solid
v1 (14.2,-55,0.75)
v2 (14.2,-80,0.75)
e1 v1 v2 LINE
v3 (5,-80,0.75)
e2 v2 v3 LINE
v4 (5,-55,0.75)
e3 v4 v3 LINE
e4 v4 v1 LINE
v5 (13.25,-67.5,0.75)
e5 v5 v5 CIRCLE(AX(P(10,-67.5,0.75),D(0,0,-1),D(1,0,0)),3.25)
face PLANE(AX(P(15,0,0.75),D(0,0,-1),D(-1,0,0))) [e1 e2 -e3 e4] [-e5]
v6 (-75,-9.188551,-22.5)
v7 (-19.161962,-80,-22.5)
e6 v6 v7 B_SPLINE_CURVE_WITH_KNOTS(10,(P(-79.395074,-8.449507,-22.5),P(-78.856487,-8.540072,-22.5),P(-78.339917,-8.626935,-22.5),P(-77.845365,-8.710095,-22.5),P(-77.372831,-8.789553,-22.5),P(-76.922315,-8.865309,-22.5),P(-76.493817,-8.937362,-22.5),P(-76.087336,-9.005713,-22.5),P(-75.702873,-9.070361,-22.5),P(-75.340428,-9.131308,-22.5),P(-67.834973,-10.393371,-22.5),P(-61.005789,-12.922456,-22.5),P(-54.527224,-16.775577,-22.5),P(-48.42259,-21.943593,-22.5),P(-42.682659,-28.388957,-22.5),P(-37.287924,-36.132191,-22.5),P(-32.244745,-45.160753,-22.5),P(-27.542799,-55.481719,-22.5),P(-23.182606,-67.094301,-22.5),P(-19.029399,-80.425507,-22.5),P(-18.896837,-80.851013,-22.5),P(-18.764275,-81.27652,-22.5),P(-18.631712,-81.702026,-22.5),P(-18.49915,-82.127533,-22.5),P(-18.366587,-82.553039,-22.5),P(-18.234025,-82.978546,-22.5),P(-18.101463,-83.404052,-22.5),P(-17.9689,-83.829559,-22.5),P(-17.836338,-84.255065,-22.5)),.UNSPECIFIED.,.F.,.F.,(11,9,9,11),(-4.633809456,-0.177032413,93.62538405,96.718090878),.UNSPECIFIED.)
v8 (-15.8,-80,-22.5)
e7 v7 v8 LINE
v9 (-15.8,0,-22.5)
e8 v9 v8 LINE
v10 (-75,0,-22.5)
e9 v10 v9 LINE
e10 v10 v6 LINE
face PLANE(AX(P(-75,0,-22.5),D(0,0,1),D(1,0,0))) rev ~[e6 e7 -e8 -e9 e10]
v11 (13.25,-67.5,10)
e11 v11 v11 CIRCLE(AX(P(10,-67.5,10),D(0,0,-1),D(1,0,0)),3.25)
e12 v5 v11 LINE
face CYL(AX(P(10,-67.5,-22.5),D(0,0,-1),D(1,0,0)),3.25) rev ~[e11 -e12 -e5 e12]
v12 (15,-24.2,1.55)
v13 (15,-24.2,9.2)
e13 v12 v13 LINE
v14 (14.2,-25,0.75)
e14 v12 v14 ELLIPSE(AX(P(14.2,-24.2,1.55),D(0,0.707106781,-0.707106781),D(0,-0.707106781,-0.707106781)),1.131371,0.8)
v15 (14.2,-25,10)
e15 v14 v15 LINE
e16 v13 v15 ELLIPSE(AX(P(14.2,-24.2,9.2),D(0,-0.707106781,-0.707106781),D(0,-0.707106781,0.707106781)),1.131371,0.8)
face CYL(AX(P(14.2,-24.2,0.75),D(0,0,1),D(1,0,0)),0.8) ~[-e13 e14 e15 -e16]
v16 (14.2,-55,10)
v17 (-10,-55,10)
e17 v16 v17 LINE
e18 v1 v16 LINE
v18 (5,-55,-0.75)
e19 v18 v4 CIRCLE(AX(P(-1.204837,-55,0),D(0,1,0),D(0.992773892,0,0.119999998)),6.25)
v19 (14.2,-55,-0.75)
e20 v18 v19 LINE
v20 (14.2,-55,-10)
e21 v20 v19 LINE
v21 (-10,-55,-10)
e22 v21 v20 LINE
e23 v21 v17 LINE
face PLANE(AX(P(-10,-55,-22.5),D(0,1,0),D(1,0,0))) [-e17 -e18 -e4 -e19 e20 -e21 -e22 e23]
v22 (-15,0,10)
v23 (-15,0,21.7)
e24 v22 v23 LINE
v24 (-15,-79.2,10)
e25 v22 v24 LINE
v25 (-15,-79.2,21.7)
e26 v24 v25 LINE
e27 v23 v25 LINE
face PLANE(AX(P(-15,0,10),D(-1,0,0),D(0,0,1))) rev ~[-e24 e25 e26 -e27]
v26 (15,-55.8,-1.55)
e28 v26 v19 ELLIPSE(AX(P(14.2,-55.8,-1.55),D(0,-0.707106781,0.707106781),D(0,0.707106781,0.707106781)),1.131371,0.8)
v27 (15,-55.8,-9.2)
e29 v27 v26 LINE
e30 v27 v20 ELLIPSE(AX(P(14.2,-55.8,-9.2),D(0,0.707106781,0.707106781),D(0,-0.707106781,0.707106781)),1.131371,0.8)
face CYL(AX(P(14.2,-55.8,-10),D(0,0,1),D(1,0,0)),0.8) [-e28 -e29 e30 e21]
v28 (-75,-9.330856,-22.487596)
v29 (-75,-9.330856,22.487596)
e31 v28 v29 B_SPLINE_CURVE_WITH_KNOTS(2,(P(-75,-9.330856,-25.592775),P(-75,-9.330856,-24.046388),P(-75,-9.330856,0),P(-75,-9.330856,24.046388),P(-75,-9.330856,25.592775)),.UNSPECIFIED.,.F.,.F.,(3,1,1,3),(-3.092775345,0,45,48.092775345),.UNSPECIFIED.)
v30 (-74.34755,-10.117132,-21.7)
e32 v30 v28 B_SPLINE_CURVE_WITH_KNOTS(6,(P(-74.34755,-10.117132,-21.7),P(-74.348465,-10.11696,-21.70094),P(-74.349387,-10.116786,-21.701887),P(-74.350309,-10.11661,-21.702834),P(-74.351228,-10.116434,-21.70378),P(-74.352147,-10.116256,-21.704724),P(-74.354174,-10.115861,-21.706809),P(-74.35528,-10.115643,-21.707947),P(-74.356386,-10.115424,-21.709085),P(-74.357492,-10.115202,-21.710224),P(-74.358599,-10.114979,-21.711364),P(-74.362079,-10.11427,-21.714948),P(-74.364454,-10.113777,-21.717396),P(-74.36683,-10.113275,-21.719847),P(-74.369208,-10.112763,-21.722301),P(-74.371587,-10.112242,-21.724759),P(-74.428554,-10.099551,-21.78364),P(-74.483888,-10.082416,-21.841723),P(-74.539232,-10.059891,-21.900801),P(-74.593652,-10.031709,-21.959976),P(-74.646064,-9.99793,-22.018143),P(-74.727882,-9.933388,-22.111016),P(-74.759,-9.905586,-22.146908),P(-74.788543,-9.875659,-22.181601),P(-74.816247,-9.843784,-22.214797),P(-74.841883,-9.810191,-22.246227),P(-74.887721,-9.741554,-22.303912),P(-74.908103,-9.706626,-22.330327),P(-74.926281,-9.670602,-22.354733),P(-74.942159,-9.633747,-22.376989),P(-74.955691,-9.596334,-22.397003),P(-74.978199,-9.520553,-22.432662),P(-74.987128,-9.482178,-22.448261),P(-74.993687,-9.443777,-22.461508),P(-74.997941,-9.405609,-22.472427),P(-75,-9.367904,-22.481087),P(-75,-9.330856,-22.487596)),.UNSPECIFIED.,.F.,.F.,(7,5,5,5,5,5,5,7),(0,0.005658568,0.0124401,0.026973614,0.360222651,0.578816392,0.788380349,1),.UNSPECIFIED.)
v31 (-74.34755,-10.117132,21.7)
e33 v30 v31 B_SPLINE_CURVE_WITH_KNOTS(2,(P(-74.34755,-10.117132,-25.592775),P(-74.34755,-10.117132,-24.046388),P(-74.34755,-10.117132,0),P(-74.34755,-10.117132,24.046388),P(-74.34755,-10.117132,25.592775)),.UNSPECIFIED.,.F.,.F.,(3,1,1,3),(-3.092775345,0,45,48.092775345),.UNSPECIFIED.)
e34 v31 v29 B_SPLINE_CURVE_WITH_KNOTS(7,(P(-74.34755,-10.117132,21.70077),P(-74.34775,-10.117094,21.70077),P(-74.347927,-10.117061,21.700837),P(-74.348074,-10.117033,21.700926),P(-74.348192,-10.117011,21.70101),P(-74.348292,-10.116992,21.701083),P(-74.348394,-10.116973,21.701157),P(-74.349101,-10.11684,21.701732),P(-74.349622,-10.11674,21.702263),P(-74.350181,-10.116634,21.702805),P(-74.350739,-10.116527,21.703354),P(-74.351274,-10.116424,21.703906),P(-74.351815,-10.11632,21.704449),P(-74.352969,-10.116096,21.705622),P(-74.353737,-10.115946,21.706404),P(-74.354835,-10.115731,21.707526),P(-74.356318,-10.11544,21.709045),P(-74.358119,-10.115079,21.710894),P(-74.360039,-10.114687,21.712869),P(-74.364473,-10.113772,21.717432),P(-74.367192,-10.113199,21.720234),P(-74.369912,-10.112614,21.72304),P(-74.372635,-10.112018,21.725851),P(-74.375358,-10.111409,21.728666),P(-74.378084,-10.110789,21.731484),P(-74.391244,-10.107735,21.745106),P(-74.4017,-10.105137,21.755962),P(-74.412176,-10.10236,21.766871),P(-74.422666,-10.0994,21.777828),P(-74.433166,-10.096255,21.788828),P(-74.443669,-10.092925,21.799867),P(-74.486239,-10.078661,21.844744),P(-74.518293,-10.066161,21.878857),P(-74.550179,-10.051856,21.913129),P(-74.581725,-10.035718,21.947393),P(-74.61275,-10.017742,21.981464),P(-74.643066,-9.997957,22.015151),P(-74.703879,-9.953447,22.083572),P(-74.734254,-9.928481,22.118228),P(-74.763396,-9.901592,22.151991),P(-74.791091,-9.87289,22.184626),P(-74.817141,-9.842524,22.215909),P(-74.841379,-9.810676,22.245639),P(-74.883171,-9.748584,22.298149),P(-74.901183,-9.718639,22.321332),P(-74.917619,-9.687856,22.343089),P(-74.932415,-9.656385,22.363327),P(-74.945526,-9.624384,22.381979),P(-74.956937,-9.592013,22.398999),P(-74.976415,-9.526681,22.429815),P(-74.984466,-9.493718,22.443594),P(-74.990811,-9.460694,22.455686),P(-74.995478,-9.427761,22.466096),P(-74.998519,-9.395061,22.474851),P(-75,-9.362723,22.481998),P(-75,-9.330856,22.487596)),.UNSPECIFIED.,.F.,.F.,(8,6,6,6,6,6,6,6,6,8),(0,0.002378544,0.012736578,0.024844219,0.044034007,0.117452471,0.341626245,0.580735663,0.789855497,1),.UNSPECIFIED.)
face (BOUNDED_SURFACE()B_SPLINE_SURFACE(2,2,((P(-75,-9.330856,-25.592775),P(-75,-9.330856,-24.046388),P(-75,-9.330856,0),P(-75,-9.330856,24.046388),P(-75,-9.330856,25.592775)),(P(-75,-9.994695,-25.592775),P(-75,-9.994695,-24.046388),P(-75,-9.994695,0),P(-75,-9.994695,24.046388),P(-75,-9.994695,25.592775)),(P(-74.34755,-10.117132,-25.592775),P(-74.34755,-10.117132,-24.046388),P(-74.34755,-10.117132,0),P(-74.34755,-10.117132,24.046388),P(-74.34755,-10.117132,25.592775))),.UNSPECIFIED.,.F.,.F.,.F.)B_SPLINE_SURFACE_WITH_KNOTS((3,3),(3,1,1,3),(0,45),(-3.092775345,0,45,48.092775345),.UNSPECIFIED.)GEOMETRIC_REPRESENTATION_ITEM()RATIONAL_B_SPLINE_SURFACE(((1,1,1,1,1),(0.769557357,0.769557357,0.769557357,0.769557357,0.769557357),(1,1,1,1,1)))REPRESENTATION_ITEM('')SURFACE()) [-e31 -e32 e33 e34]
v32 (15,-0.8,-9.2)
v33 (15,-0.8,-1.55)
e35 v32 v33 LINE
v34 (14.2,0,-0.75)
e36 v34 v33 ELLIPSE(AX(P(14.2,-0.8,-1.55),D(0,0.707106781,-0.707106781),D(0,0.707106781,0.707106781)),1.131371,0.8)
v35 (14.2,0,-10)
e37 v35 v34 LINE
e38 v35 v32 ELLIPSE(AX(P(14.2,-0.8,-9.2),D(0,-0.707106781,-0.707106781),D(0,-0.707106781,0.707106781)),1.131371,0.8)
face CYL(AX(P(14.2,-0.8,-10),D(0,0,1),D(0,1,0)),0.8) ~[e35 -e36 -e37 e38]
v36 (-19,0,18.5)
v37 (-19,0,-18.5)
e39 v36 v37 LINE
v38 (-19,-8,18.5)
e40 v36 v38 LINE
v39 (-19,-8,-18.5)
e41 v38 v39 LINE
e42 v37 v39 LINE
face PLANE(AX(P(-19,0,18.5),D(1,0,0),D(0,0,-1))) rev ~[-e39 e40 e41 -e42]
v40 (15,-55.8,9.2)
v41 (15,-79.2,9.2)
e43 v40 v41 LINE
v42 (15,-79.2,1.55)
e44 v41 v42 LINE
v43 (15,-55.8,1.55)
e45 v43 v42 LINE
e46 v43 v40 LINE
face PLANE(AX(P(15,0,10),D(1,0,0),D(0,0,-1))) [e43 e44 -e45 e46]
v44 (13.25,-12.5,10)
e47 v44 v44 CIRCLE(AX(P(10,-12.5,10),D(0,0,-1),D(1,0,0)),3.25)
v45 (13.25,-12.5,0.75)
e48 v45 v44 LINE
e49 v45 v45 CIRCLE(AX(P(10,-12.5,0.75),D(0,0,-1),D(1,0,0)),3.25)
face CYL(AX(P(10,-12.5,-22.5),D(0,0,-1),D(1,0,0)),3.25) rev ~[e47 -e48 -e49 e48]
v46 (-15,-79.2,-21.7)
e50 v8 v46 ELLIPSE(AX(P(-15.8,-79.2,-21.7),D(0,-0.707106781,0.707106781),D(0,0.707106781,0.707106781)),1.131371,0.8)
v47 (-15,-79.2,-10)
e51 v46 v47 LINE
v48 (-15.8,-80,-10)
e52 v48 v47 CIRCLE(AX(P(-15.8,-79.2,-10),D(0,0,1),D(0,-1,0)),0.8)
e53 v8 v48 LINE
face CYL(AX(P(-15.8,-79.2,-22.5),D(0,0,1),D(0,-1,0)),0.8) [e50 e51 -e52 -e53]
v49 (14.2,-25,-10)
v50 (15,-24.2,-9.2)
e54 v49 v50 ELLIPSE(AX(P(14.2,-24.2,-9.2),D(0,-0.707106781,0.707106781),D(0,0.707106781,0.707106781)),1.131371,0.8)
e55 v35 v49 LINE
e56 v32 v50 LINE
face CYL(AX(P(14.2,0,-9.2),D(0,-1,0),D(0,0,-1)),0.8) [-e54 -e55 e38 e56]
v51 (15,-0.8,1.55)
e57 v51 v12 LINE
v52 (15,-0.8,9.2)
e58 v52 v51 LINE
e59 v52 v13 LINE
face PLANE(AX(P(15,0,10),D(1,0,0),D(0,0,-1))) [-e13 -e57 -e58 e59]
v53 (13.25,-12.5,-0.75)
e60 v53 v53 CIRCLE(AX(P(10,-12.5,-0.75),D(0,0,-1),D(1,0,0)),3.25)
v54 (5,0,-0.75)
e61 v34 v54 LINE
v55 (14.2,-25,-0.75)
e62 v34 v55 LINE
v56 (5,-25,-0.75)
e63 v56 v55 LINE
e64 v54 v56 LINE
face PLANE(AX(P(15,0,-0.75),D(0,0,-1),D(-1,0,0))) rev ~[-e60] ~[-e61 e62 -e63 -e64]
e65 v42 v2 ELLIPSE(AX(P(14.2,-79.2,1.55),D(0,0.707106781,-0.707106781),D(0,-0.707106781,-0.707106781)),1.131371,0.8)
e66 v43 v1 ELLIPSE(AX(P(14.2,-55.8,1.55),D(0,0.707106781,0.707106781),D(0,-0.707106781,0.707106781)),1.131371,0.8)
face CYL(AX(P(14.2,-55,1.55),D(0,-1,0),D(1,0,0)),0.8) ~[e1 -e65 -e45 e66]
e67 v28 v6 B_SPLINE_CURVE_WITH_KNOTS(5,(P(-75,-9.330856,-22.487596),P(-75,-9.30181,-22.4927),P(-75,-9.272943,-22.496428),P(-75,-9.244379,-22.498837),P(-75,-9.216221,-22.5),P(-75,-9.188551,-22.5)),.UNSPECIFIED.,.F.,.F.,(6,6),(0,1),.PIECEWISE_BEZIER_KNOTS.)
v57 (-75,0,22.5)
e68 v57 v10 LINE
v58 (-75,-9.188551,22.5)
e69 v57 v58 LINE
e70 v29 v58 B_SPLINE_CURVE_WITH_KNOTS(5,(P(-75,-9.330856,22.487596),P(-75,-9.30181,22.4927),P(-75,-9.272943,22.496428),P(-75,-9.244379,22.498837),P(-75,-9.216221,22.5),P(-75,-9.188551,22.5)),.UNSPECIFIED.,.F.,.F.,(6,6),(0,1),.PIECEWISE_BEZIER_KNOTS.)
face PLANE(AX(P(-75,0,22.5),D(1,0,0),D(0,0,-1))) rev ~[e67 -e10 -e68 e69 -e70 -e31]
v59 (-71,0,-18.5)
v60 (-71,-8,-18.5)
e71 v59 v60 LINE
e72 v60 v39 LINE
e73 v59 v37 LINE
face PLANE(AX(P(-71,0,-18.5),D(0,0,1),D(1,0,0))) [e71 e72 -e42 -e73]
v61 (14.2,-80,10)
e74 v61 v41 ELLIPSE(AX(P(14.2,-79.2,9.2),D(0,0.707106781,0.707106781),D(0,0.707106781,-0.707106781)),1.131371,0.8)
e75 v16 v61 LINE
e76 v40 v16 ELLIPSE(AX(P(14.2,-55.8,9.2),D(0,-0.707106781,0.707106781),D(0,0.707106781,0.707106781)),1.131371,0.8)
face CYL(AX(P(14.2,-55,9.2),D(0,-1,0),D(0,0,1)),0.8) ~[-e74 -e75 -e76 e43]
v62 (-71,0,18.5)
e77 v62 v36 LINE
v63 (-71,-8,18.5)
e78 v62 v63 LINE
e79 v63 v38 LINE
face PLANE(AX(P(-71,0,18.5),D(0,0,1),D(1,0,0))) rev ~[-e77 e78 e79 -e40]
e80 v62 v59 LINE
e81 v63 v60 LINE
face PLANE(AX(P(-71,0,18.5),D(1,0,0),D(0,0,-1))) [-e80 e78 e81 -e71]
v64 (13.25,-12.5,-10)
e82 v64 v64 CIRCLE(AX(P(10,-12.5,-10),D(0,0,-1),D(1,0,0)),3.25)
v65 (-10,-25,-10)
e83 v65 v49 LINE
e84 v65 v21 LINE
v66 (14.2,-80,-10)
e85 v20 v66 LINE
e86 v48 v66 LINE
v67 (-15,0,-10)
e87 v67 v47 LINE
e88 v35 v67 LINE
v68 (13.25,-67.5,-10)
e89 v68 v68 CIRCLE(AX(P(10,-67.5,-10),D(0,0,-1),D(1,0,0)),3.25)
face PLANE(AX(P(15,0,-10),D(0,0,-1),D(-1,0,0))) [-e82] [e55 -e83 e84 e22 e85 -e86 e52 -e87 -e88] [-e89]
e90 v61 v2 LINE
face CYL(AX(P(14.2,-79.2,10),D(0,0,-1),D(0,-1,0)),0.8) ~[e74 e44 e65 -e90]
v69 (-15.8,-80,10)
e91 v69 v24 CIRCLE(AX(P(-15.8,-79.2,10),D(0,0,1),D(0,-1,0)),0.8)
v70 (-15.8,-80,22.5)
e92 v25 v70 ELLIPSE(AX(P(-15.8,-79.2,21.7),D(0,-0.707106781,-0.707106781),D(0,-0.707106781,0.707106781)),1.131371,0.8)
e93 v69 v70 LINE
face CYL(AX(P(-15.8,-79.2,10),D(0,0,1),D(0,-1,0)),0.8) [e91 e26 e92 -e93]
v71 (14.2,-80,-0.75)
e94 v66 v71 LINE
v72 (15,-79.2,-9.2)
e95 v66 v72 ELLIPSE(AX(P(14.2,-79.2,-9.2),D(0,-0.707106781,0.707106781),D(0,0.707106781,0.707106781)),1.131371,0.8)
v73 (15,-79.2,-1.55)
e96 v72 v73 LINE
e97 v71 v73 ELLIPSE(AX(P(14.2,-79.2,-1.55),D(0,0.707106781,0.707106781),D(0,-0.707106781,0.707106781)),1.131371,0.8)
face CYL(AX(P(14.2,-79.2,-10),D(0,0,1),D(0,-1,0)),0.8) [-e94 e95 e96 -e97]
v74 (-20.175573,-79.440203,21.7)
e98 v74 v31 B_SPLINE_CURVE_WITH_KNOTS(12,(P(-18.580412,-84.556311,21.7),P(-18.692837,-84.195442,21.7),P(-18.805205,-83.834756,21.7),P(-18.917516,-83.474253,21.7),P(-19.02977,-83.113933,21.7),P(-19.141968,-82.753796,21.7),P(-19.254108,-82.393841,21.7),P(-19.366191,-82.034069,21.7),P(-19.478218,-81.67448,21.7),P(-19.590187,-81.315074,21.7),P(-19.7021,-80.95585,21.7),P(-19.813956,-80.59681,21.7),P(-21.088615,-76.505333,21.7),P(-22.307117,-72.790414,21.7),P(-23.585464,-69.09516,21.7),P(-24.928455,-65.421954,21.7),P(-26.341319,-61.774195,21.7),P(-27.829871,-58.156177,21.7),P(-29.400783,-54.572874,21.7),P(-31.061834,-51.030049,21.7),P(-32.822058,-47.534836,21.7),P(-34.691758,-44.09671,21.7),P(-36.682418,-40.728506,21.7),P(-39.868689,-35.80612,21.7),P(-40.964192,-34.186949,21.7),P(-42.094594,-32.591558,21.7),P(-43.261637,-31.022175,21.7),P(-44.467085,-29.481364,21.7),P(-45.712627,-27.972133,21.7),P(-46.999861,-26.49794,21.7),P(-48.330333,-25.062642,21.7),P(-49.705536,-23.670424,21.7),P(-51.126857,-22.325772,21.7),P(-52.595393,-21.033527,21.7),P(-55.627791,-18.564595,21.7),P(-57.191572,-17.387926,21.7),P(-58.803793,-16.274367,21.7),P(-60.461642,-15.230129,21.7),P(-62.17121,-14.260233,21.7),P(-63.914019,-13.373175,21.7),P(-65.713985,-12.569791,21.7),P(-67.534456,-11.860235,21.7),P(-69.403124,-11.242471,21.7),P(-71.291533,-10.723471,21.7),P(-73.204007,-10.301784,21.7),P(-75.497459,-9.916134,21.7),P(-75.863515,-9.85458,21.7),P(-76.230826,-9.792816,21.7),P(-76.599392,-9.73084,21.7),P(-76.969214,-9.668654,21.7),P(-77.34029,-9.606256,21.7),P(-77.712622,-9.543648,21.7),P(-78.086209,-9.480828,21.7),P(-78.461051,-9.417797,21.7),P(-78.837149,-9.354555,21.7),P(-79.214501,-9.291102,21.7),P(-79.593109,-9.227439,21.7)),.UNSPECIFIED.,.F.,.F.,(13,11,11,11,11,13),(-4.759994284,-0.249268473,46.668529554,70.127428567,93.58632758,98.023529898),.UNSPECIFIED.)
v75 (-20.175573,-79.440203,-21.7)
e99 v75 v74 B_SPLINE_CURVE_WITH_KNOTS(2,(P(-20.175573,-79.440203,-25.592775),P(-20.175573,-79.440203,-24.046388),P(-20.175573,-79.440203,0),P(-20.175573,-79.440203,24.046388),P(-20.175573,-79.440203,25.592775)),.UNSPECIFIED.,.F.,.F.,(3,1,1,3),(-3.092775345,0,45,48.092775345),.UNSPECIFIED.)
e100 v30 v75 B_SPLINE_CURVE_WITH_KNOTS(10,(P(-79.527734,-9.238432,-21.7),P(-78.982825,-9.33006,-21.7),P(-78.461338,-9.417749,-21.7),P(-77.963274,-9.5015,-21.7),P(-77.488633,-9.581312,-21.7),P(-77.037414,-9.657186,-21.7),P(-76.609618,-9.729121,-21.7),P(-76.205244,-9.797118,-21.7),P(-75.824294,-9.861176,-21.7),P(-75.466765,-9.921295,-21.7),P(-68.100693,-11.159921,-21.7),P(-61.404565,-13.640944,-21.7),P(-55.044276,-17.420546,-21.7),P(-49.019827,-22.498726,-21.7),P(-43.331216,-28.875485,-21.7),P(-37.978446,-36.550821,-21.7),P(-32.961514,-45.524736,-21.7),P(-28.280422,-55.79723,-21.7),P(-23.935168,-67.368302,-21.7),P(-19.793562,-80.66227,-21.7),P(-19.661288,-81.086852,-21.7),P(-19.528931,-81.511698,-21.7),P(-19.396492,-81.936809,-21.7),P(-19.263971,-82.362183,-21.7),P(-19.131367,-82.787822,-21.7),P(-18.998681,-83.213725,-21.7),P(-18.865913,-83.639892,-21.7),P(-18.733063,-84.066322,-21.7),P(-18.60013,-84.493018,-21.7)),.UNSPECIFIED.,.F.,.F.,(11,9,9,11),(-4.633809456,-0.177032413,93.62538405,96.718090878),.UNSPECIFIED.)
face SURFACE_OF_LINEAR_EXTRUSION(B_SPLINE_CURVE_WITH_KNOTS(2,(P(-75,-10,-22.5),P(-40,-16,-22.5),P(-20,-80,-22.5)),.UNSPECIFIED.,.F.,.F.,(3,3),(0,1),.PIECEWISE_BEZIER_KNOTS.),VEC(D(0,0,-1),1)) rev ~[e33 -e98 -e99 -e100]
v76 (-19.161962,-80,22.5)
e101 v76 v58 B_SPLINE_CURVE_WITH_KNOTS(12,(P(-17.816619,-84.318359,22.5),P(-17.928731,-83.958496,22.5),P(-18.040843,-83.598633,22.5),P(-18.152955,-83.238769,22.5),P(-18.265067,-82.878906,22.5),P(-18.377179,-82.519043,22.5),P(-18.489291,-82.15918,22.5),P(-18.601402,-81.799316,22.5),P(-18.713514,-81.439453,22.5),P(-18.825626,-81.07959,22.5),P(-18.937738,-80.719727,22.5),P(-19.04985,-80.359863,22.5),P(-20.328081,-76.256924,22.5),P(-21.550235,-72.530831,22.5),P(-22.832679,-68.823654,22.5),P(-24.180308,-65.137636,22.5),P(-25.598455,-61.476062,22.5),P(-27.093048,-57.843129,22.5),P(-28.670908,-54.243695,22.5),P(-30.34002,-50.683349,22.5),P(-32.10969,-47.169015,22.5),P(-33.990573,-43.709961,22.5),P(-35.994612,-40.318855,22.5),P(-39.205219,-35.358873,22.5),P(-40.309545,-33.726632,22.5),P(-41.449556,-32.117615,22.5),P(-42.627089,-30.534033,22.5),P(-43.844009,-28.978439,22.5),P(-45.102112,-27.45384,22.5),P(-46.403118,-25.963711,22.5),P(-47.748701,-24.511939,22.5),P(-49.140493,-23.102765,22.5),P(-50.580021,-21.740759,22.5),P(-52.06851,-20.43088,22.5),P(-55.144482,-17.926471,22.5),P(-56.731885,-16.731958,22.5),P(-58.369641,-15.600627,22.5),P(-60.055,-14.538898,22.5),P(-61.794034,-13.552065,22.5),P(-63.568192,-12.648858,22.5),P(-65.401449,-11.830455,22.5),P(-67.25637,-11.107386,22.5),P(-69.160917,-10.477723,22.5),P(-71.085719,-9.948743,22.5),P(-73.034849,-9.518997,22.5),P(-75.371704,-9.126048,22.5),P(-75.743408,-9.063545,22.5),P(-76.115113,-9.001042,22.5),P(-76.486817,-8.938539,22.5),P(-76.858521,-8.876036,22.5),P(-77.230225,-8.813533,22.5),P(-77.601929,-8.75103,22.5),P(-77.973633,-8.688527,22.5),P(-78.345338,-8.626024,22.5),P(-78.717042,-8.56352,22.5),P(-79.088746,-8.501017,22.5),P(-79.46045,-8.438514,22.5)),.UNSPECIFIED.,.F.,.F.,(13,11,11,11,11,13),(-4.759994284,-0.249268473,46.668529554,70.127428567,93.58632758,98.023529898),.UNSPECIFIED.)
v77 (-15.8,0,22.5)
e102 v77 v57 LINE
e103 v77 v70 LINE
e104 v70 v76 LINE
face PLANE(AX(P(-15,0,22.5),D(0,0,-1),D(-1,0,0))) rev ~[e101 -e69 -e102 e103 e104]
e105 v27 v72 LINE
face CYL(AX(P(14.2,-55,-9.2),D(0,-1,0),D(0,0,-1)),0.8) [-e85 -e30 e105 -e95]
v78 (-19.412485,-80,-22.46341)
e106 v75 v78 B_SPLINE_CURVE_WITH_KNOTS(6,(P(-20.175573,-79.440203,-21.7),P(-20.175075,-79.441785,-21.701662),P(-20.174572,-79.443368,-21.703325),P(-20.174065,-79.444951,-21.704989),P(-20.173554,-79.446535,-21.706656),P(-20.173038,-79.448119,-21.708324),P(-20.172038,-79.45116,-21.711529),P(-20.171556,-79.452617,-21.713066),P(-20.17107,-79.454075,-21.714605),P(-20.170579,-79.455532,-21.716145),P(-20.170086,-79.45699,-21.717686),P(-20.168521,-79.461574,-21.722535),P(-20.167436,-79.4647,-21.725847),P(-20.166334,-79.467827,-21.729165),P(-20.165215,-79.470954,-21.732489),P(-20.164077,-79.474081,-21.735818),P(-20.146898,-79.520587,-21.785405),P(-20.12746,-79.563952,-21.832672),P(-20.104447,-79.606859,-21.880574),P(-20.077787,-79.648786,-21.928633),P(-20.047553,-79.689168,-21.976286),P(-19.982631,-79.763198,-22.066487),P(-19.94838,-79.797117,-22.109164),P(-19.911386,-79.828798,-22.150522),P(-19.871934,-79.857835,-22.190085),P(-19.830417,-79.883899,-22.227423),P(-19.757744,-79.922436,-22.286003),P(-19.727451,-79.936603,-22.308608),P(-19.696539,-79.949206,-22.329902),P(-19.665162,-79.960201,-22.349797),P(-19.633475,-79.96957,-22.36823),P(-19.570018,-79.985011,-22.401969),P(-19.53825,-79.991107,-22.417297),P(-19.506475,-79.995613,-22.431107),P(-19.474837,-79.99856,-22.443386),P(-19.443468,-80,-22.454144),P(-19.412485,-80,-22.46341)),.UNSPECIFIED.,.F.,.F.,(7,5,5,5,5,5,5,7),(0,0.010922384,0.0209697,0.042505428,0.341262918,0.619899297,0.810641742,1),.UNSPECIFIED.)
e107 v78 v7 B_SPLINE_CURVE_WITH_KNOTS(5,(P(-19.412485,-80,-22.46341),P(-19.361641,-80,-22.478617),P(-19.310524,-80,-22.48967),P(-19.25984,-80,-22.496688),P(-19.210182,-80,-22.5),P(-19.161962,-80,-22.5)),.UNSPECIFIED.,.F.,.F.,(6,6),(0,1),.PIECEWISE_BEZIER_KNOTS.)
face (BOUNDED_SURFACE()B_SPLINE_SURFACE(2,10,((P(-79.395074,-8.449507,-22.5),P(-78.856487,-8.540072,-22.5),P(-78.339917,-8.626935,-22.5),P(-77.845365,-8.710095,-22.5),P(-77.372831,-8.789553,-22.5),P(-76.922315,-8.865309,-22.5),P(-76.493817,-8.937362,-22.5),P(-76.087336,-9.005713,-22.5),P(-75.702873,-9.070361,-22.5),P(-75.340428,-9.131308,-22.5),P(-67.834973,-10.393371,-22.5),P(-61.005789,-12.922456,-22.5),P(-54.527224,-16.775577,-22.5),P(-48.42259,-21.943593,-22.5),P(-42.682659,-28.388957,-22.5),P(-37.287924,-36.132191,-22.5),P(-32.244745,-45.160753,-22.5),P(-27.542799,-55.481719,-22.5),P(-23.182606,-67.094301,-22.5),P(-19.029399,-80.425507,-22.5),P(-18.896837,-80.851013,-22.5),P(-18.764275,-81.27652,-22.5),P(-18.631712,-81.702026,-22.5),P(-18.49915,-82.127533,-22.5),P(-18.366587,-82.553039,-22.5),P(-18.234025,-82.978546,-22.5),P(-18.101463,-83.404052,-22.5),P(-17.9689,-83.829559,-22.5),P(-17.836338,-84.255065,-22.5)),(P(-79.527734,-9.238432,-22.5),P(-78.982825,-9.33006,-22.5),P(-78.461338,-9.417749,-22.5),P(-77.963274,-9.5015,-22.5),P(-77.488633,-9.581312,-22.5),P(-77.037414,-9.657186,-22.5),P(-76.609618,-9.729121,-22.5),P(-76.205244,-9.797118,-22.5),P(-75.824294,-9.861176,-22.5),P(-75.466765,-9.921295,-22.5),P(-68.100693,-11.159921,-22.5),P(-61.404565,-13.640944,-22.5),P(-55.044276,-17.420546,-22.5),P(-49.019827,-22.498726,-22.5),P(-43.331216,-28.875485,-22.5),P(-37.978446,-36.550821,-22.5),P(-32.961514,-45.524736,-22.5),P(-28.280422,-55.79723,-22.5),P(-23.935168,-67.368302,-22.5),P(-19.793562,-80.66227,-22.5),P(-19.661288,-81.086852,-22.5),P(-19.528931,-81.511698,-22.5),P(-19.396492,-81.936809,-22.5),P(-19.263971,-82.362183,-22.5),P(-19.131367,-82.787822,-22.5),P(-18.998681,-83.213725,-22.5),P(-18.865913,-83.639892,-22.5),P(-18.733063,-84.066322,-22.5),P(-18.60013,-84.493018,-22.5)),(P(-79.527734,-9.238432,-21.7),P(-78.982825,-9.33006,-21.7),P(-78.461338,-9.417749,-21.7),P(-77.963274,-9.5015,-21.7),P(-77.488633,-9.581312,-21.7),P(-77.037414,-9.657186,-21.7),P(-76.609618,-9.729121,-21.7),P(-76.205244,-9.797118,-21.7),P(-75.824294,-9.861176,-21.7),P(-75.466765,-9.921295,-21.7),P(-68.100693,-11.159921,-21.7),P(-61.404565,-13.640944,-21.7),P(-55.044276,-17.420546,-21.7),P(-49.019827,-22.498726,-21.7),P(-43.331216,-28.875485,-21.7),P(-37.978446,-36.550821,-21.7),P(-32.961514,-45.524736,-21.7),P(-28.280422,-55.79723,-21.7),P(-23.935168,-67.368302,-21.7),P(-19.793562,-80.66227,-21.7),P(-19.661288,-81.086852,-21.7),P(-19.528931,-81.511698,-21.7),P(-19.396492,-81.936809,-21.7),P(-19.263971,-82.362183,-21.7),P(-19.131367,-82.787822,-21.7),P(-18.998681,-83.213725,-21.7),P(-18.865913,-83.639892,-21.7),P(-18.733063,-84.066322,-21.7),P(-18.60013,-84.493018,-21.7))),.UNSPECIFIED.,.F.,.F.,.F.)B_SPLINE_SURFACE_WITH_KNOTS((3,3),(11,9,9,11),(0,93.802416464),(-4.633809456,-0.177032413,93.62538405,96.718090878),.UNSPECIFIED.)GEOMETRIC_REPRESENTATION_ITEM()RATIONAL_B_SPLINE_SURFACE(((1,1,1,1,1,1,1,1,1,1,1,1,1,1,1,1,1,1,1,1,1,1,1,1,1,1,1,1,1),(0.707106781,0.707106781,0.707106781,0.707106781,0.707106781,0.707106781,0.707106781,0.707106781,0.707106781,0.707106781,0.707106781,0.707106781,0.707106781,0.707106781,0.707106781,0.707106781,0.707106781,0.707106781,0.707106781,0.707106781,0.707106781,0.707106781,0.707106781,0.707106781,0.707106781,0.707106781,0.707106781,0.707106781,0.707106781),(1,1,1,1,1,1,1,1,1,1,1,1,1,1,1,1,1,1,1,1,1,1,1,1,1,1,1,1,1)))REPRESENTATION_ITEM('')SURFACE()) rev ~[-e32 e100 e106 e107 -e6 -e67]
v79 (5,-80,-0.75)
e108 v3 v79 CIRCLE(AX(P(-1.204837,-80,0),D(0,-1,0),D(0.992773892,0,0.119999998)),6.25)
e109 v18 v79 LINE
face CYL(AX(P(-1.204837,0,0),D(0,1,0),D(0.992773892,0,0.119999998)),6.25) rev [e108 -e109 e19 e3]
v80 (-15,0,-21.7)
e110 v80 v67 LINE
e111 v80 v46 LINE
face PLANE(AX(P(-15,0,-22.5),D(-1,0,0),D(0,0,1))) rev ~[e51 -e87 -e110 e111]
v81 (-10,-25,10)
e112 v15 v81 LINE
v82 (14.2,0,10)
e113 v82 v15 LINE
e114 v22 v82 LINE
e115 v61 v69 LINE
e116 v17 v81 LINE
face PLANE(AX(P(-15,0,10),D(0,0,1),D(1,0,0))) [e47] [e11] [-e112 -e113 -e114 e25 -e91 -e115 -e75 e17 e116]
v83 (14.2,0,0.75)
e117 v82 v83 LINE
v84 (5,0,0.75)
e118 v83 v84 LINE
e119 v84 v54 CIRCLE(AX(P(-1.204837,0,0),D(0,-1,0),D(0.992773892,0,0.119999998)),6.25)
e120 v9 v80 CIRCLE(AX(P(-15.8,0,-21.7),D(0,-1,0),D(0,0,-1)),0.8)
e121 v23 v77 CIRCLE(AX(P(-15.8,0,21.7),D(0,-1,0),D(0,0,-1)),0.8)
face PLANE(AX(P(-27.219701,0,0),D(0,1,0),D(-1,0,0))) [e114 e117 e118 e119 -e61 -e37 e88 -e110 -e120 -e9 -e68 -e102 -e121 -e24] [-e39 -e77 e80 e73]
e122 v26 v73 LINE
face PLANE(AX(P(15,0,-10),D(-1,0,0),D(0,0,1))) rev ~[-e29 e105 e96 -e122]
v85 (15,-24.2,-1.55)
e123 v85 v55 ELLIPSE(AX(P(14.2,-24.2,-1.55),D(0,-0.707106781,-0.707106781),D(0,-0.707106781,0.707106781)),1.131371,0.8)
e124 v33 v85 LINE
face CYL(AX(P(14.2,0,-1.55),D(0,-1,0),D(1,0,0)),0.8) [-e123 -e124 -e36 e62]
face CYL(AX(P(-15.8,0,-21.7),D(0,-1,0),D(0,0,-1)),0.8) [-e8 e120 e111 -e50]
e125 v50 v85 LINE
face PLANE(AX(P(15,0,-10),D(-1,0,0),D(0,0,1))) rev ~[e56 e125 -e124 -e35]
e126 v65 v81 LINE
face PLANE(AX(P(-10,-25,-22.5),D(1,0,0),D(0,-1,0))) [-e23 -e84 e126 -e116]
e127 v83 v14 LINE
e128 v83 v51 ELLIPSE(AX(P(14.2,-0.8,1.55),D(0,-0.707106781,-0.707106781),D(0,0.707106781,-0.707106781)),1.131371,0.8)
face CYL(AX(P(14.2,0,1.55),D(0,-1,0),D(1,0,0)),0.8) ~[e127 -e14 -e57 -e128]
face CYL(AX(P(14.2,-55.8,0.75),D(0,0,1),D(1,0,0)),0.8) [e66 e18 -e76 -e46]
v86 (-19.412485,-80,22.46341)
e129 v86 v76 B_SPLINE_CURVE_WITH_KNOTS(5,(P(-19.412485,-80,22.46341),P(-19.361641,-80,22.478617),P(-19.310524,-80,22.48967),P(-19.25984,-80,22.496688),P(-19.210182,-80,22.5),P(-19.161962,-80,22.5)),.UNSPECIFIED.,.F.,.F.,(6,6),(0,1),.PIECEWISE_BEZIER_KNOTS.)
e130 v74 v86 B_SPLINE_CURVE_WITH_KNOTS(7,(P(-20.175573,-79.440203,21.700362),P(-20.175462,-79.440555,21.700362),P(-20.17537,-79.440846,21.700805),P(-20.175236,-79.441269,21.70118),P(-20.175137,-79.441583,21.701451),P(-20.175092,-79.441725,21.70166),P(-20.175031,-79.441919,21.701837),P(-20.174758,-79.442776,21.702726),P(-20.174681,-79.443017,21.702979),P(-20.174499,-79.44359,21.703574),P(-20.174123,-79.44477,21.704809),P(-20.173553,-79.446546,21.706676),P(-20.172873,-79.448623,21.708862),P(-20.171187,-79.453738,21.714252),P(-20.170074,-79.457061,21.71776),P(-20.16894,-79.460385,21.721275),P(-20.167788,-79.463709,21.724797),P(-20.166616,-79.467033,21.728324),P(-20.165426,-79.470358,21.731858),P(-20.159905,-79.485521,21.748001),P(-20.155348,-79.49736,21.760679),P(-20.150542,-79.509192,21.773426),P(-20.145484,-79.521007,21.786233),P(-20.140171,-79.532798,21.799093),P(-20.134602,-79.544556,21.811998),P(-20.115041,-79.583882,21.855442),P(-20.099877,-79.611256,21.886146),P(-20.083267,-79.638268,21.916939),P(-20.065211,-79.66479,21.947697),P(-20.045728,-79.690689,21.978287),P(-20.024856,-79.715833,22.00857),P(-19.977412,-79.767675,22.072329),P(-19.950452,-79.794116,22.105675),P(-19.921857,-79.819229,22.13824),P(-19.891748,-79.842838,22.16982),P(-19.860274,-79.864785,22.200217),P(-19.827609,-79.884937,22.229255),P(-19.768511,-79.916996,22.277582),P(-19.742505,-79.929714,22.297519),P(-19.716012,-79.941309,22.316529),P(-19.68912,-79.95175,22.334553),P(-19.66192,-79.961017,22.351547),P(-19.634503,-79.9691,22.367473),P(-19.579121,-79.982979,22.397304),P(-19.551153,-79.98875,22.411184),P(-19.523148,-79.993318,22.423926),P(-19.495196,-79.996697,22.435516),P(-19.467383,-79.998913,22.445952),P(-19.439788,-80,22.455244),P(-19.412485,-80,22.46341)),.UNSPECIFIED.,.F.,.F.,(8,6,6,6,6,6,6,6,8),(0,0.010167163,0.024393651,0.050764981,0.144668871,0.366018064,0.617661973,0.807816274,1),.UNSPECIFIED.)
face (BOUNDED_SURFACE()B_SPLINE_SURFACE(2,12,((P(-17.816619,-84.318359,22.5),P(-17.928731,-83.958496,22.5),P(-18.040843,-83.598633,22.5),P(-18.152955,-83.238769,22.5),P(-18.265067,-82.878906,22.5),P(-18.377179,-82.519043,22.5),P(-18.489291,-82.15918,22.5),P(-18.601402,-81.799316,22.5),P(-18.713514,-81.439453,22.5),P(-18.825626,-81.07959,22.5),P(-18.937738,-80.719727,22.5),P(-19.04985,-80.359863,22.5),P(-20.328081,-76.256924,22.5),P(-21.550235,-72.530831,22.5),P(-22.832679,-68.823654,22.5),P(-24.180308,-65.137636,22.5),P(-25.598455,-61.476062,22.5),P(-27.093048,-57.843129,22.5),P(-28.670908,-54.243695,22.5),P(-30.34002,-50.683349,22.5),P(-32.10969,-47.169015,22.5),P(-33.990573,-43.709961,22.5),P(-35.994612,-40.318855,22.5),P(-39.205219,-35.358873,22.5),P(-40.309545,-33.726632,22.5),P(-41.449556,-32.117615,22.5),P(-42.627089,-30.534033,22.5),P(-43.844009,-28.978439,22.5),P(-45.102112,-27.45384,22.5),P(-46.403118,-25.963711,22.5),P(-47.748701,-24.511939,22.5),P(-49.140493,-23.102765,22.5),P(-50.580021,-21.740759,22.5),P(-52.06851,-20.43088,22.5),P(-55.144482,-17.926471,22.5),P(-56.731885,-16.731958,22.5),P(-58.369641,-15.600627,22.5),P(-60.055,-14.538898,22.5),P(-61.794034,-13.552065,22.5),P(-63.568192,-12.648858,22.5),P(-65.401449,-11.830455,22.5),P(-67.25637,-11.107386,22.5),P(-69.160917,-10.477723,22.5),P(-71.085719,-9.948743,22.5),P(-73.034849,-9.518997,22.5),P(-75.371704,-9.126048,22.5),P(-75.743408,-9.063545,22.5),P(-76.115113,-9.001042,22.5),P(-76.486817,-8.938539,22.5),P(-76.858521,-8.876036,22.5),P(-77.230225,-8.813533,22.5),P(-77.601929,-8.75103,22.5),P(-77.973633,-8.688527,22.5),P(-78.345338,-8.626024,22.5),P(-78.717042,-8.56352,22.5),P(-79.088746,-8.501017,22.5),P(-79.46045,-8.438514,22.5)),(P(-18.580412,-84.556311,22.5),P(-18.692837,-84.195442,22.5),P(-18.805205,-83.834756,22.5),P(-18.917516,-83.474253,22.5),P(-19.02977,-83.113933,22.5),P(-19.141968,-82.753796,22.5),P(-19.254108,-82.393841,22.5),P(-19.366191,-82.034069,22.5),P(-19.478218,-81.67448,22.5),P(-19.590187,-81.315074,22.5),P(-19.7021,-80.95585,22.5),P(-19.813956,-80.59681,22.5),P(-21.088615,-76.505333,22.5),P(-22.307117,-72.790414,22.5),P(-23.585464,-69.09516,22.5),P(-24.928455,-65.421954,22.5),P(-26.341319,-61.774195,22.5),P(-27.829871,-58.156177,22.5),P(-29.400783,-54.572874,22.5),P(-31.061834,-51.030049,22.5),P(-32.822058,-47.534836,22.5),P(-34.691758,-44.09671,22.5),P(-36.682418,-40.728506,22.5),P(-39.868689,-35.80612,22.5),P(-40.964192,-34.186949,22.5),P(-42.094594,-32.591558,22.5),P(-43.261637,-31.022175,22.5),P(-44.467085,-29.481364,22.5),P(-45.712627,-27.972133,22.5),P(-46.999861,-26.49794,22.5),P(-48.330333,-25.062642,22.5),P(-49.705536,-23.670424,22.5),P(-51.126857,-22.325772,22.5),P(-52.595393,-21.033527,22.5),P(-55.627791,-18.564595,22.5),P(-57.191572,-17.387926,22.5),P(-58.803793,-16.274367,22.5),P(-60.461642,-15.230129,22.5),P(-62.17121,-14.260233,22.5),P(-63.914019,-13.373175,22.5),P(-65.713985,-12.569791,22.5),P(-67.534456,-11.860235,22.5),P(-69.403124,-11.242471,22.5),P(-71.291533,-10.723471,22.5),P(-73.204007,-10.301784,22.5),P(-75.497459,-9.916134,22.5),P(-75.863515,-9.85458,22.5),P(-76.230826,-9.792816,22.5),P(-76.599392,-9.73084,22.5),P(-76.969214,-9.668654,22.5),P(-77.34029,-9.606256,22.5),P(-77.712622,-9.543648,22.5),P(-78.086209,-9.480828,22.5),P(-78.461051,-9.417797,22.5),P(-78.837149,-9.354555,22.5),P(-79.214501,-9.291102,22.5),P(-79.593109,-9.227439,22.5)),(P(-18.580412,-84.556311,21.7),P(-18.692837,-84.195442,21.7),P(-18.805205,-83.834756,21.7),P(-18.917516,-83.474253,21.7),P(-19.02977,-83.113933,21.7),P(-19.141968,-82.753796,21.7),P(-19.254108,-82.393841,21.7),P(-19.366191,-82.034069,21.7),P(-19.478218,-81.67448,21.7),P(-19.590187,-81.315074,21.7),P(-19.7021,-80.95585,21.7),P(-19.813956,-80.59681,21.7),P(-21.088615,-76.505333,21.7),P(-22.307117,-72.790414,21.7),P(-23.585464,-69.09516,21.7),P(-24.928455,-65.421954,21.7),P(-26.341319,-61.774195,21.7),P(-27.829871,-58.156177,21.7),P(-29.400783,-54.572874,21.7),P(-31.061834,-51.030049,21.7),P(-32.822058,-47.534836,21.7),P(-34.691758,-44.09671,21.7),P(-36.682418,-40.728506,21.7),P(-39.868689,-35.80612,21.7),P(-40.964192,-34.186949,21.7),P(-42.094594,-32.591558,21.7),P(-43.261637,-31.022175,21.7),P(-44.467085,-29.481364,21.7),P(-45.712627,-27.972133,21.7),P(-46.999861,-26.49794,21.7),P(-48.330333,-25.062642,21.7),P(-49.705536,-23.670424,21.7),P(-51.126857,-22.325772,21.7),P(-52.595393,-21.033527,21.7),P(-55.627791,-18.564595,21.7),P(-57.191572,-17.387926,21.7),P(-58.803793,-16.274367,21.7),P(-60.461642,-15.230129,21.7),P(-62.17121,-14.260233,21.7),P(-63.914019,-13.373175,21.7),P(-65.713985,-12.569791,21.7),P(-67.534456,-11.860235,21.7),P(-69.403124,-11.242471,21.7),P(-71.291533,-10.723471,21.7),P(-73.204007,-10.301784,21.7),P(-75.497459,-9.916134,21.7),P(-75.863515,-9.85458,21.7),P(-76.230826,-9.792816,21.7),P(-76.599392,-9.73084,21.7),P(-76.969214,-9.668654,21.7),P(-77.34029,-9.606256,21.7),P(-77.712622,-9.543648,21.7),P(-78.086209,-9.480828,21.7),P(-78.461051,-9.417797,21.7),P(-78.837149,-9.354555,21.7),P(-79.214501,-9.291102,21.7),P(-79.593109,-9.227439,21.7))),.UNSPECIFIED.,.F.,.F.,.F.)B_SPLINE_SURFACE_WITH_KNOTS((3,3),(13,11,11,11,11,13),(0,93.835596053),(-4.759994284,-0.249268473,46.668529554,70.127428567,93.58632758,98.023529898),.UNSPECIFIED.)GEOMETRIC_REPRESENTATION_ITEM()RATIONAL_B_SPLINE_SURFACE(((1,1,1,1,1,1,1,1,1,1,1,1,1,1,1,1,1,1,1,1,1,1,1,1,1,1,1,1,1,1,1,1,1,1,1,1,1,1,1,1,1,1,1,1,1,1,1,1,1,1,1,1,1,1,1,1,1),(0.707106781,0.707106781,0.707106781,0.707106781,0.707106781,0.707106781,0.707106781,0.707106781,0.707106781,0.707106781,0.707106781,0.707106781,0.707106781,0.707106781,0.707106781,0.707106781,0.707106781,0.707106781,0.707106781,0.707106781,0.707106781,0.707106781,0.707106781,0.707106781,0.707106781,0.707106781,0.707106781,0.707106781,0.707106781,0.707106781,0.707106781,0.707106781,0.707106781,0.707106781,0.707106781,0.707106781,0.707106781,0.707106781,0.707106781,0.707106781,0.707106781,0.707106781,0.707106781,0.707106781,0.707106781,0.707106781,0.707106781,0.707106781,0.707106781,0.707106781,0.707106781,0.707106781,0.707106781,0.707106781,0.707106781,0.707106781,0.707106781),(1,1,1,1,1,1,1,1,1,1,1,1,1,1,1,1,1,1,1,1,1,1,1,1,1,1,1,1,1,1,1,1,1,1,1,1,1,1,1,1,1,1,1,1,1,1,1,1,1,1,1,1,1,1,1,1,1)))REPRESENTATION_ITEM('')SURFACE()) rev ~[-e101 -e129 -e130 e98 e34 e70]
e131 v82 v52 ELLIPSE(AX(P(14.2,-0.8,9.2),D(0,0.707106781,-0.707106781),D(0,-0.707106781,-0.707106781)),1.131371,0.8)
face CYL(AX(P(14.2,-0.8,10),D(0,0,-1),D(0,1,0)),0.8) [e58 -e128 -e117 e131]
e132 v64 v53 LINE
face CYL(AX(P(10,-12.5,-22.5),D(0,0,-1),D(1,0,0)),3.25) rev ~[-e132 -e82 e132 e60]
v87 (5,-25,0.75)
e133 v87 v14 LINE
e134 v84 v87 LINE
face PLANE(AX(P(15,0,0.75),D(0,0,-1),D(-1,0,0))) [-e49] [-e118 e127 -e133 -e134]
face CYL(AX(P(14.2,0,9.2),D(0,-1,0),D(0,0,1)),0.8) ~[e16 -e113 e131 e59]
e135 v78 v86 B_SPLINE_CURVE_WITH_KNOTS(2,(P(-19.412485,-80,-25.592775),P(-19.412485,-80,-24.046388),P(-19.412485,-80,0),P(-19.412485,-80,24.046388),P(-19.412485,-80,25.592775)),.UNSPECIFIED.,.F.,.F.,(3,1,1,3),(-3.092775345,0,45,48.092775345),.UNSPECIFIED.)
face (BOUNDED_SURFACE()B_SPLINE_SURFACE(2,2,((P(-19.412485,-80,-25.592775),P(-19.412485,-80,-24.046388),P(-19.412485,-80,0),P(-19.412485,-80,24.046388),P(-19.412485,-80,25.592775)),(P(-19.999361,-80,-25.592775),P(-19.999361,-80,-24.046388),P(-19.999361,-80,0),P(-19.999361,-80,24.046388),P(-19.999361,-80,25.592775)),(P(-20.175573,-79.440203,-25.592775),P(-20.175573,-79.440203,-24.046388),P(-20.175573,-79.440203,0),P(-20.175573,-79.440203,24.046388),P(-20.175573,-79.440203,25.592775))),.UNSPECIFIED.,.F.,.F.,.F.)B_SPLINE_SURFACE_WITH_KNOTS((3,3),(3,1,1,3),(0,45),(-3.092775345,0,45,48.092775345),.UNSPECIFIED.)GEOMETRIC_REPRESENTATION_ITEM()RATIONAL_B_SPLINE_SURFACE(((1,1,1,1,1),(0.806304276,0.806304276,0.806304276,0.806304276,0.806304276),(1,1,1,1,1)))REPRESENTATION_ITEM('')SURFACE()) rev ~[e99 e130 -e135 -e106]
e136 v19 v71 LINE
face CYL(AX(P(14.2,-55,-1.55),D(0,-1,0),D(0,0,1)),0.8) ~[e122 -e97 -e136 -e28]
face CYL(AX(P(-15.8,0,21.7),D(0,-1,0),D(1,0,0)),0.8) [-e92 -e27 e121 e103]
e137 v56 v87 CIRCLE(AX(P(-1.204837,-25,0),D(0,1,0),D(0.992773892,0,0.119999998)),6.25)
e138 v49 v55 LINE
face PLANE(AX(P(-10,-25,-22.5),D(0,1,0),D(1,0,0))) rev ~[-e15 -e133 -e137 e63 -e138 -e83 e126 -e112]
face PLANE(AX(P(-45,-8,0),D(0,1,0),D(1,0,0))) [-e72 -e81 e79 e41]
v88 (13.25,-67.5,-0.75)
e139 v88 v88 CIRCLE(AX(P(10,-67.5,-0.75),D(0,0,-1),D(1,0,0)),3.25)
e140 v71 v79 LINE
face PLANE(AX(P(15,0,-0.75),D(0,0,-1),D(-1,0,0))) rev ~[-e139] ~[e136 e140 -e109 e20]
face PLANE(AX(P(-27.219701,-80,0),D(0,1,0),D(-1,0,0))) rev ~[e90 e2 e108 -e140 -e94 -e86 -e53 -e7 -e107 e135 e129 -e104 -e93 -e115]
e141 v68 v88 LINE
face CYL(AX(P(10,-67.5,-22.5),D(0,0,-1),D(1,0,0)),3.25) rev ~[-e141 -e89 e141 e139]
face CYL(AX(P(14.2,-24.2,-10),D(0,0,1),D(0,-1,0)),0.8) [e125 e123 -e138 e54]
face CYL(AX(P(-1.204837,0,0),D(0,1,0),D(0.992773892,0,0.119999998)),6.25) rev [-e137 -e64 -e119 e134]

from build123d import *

# Parameters (mm, degrees)
PAD_DEPTH       = 80
SKETCH001_W     = 25
SKETCH001_H     = 30
SKETCH001_R     = 3.25
POCKET_DEPTH    = 45.001
FILLET_R        = 0.8
SKETCH002_W     = 52
SKETCH002_H     = 37
POCKET001_DEPTH = 8
FILLET001_R     = 0.8
FILLET002_R     = 0.8


with BuildPart() as part:
    # Sketch → Pad (new body)
    with BuildSketch(Plane.XZ):
        with BuildLine():
            Line((-15, 10), (15, 10))
            Line((15, 10), (15, 0.75))
            Line((15, 0.75), (5, 0.75))
            ThreePointArc((5, 0.75), (-7.454837, 0), (5, -0.75))
            Line((15, -0.75), (5, -0.75))
            Line((15, -10), (15, -0.75))
            Line((15, -10), (-15, -10))
            Line((-15, -22.5), (-15, -10))
            Line((-75, -22.5), (-15, -22.5))
            Line((-75, 22.5), (-75, -22.5))
            Line((-15, 22.5), (-75, 22.5))
            Line((-15, 10), (-15, 22.5))
        make_face()
    extrude(amount=PAD_DEPTH)

    # Sketch001 (on Face9 of Pad) → Pocket (cut, through all)
    with BuildSketch(Plane(origin=(0, 0, -22.5), x_dir=(1, 0, 0), z_dir=(0, 0, -1))):
        with Locations((2.5, 40)):
            Rectangle(SKETCH001_W, SKETCH001_H)
        with BuildLine():
            Line((-20, 80), (-75, 80))
            Line((-75, 80), (-75, 10))
            add(Edge.make_bspline(
                [(-75, 10), (-40, 16), (-20, 80)],
                knots=[0, 0, 0, 1, 1, 1], degree=2))
        make_face()
        with Locations((10, 12.5)):
            Circle(SKETCH001_R)
        with Locations((10, 67.5)):
            Circle(SKETCH001_R)
    extrude(amount=-POCKET_DEPTH, mode=Mode.SUBTRACT)

    # Fillet
    fillet_edges = [part.edges().sort_by_distance(p)[0] for p in [
        (-38.841084, -37.393675, -22.5),
        (-20, -80, 0),
        (-38.841077, -37.393686, 22.5),
        (-75, -10, 0),
    ]]
    fillet(fillet_edges, radius=FILLET_R)

    # Sketch002 (on Face17 of Fillet) → Pocket001 (cut)
    with BuildSketch(Plane(origin=(0, 0, 0), x_dir=(1, 0, 0), z_dir=(0, 1, 0))):
        with Locations((-45, 0)):
            Rectangle(SKETCH002_W, SKETCH002_H)
    extrude(amount=-POCKET001_DEPTH, mode=Mode.SUBTRACT)

    # Fillet001
    fillet001_edges = [part.edges().sort_by_distance(p)[0] for p in [
        (15, 0, 5.375),
        (15, -12.5, 0.75),
        (15, -25, 5.375),
        (15, -12.5, 10),
        (15, 0, -5.375),
        (15, -12.5, -0.75),
        (15, -25, -5.375),
        (15, -12.5, -10),
        (15, -55, 5.375),
        (15, -67.5, 0.75),
        (15, -80, 5.375),
        (15, -67.5, 10),
        (15, -55, -5.375),
        (15, -67.5, -0.75),
        (15, -80, -5.375),
        (15, -67.5, -10),
    ]]
    fillet(fillet001_edges, radius=FILLET001_R)

    # Fillet002
    fillet002_edges = [part.edges().sort_by_distance(p)[0] for p in [
        (-15, -40, 22.5),
        (-15, -80, 16.25),
        (-15, -80, -16.25),
        (-15, -40, -22.5),
    ]]
    fillet(fillet002_edges, radius=FILLET002_R)


solid = part.part
